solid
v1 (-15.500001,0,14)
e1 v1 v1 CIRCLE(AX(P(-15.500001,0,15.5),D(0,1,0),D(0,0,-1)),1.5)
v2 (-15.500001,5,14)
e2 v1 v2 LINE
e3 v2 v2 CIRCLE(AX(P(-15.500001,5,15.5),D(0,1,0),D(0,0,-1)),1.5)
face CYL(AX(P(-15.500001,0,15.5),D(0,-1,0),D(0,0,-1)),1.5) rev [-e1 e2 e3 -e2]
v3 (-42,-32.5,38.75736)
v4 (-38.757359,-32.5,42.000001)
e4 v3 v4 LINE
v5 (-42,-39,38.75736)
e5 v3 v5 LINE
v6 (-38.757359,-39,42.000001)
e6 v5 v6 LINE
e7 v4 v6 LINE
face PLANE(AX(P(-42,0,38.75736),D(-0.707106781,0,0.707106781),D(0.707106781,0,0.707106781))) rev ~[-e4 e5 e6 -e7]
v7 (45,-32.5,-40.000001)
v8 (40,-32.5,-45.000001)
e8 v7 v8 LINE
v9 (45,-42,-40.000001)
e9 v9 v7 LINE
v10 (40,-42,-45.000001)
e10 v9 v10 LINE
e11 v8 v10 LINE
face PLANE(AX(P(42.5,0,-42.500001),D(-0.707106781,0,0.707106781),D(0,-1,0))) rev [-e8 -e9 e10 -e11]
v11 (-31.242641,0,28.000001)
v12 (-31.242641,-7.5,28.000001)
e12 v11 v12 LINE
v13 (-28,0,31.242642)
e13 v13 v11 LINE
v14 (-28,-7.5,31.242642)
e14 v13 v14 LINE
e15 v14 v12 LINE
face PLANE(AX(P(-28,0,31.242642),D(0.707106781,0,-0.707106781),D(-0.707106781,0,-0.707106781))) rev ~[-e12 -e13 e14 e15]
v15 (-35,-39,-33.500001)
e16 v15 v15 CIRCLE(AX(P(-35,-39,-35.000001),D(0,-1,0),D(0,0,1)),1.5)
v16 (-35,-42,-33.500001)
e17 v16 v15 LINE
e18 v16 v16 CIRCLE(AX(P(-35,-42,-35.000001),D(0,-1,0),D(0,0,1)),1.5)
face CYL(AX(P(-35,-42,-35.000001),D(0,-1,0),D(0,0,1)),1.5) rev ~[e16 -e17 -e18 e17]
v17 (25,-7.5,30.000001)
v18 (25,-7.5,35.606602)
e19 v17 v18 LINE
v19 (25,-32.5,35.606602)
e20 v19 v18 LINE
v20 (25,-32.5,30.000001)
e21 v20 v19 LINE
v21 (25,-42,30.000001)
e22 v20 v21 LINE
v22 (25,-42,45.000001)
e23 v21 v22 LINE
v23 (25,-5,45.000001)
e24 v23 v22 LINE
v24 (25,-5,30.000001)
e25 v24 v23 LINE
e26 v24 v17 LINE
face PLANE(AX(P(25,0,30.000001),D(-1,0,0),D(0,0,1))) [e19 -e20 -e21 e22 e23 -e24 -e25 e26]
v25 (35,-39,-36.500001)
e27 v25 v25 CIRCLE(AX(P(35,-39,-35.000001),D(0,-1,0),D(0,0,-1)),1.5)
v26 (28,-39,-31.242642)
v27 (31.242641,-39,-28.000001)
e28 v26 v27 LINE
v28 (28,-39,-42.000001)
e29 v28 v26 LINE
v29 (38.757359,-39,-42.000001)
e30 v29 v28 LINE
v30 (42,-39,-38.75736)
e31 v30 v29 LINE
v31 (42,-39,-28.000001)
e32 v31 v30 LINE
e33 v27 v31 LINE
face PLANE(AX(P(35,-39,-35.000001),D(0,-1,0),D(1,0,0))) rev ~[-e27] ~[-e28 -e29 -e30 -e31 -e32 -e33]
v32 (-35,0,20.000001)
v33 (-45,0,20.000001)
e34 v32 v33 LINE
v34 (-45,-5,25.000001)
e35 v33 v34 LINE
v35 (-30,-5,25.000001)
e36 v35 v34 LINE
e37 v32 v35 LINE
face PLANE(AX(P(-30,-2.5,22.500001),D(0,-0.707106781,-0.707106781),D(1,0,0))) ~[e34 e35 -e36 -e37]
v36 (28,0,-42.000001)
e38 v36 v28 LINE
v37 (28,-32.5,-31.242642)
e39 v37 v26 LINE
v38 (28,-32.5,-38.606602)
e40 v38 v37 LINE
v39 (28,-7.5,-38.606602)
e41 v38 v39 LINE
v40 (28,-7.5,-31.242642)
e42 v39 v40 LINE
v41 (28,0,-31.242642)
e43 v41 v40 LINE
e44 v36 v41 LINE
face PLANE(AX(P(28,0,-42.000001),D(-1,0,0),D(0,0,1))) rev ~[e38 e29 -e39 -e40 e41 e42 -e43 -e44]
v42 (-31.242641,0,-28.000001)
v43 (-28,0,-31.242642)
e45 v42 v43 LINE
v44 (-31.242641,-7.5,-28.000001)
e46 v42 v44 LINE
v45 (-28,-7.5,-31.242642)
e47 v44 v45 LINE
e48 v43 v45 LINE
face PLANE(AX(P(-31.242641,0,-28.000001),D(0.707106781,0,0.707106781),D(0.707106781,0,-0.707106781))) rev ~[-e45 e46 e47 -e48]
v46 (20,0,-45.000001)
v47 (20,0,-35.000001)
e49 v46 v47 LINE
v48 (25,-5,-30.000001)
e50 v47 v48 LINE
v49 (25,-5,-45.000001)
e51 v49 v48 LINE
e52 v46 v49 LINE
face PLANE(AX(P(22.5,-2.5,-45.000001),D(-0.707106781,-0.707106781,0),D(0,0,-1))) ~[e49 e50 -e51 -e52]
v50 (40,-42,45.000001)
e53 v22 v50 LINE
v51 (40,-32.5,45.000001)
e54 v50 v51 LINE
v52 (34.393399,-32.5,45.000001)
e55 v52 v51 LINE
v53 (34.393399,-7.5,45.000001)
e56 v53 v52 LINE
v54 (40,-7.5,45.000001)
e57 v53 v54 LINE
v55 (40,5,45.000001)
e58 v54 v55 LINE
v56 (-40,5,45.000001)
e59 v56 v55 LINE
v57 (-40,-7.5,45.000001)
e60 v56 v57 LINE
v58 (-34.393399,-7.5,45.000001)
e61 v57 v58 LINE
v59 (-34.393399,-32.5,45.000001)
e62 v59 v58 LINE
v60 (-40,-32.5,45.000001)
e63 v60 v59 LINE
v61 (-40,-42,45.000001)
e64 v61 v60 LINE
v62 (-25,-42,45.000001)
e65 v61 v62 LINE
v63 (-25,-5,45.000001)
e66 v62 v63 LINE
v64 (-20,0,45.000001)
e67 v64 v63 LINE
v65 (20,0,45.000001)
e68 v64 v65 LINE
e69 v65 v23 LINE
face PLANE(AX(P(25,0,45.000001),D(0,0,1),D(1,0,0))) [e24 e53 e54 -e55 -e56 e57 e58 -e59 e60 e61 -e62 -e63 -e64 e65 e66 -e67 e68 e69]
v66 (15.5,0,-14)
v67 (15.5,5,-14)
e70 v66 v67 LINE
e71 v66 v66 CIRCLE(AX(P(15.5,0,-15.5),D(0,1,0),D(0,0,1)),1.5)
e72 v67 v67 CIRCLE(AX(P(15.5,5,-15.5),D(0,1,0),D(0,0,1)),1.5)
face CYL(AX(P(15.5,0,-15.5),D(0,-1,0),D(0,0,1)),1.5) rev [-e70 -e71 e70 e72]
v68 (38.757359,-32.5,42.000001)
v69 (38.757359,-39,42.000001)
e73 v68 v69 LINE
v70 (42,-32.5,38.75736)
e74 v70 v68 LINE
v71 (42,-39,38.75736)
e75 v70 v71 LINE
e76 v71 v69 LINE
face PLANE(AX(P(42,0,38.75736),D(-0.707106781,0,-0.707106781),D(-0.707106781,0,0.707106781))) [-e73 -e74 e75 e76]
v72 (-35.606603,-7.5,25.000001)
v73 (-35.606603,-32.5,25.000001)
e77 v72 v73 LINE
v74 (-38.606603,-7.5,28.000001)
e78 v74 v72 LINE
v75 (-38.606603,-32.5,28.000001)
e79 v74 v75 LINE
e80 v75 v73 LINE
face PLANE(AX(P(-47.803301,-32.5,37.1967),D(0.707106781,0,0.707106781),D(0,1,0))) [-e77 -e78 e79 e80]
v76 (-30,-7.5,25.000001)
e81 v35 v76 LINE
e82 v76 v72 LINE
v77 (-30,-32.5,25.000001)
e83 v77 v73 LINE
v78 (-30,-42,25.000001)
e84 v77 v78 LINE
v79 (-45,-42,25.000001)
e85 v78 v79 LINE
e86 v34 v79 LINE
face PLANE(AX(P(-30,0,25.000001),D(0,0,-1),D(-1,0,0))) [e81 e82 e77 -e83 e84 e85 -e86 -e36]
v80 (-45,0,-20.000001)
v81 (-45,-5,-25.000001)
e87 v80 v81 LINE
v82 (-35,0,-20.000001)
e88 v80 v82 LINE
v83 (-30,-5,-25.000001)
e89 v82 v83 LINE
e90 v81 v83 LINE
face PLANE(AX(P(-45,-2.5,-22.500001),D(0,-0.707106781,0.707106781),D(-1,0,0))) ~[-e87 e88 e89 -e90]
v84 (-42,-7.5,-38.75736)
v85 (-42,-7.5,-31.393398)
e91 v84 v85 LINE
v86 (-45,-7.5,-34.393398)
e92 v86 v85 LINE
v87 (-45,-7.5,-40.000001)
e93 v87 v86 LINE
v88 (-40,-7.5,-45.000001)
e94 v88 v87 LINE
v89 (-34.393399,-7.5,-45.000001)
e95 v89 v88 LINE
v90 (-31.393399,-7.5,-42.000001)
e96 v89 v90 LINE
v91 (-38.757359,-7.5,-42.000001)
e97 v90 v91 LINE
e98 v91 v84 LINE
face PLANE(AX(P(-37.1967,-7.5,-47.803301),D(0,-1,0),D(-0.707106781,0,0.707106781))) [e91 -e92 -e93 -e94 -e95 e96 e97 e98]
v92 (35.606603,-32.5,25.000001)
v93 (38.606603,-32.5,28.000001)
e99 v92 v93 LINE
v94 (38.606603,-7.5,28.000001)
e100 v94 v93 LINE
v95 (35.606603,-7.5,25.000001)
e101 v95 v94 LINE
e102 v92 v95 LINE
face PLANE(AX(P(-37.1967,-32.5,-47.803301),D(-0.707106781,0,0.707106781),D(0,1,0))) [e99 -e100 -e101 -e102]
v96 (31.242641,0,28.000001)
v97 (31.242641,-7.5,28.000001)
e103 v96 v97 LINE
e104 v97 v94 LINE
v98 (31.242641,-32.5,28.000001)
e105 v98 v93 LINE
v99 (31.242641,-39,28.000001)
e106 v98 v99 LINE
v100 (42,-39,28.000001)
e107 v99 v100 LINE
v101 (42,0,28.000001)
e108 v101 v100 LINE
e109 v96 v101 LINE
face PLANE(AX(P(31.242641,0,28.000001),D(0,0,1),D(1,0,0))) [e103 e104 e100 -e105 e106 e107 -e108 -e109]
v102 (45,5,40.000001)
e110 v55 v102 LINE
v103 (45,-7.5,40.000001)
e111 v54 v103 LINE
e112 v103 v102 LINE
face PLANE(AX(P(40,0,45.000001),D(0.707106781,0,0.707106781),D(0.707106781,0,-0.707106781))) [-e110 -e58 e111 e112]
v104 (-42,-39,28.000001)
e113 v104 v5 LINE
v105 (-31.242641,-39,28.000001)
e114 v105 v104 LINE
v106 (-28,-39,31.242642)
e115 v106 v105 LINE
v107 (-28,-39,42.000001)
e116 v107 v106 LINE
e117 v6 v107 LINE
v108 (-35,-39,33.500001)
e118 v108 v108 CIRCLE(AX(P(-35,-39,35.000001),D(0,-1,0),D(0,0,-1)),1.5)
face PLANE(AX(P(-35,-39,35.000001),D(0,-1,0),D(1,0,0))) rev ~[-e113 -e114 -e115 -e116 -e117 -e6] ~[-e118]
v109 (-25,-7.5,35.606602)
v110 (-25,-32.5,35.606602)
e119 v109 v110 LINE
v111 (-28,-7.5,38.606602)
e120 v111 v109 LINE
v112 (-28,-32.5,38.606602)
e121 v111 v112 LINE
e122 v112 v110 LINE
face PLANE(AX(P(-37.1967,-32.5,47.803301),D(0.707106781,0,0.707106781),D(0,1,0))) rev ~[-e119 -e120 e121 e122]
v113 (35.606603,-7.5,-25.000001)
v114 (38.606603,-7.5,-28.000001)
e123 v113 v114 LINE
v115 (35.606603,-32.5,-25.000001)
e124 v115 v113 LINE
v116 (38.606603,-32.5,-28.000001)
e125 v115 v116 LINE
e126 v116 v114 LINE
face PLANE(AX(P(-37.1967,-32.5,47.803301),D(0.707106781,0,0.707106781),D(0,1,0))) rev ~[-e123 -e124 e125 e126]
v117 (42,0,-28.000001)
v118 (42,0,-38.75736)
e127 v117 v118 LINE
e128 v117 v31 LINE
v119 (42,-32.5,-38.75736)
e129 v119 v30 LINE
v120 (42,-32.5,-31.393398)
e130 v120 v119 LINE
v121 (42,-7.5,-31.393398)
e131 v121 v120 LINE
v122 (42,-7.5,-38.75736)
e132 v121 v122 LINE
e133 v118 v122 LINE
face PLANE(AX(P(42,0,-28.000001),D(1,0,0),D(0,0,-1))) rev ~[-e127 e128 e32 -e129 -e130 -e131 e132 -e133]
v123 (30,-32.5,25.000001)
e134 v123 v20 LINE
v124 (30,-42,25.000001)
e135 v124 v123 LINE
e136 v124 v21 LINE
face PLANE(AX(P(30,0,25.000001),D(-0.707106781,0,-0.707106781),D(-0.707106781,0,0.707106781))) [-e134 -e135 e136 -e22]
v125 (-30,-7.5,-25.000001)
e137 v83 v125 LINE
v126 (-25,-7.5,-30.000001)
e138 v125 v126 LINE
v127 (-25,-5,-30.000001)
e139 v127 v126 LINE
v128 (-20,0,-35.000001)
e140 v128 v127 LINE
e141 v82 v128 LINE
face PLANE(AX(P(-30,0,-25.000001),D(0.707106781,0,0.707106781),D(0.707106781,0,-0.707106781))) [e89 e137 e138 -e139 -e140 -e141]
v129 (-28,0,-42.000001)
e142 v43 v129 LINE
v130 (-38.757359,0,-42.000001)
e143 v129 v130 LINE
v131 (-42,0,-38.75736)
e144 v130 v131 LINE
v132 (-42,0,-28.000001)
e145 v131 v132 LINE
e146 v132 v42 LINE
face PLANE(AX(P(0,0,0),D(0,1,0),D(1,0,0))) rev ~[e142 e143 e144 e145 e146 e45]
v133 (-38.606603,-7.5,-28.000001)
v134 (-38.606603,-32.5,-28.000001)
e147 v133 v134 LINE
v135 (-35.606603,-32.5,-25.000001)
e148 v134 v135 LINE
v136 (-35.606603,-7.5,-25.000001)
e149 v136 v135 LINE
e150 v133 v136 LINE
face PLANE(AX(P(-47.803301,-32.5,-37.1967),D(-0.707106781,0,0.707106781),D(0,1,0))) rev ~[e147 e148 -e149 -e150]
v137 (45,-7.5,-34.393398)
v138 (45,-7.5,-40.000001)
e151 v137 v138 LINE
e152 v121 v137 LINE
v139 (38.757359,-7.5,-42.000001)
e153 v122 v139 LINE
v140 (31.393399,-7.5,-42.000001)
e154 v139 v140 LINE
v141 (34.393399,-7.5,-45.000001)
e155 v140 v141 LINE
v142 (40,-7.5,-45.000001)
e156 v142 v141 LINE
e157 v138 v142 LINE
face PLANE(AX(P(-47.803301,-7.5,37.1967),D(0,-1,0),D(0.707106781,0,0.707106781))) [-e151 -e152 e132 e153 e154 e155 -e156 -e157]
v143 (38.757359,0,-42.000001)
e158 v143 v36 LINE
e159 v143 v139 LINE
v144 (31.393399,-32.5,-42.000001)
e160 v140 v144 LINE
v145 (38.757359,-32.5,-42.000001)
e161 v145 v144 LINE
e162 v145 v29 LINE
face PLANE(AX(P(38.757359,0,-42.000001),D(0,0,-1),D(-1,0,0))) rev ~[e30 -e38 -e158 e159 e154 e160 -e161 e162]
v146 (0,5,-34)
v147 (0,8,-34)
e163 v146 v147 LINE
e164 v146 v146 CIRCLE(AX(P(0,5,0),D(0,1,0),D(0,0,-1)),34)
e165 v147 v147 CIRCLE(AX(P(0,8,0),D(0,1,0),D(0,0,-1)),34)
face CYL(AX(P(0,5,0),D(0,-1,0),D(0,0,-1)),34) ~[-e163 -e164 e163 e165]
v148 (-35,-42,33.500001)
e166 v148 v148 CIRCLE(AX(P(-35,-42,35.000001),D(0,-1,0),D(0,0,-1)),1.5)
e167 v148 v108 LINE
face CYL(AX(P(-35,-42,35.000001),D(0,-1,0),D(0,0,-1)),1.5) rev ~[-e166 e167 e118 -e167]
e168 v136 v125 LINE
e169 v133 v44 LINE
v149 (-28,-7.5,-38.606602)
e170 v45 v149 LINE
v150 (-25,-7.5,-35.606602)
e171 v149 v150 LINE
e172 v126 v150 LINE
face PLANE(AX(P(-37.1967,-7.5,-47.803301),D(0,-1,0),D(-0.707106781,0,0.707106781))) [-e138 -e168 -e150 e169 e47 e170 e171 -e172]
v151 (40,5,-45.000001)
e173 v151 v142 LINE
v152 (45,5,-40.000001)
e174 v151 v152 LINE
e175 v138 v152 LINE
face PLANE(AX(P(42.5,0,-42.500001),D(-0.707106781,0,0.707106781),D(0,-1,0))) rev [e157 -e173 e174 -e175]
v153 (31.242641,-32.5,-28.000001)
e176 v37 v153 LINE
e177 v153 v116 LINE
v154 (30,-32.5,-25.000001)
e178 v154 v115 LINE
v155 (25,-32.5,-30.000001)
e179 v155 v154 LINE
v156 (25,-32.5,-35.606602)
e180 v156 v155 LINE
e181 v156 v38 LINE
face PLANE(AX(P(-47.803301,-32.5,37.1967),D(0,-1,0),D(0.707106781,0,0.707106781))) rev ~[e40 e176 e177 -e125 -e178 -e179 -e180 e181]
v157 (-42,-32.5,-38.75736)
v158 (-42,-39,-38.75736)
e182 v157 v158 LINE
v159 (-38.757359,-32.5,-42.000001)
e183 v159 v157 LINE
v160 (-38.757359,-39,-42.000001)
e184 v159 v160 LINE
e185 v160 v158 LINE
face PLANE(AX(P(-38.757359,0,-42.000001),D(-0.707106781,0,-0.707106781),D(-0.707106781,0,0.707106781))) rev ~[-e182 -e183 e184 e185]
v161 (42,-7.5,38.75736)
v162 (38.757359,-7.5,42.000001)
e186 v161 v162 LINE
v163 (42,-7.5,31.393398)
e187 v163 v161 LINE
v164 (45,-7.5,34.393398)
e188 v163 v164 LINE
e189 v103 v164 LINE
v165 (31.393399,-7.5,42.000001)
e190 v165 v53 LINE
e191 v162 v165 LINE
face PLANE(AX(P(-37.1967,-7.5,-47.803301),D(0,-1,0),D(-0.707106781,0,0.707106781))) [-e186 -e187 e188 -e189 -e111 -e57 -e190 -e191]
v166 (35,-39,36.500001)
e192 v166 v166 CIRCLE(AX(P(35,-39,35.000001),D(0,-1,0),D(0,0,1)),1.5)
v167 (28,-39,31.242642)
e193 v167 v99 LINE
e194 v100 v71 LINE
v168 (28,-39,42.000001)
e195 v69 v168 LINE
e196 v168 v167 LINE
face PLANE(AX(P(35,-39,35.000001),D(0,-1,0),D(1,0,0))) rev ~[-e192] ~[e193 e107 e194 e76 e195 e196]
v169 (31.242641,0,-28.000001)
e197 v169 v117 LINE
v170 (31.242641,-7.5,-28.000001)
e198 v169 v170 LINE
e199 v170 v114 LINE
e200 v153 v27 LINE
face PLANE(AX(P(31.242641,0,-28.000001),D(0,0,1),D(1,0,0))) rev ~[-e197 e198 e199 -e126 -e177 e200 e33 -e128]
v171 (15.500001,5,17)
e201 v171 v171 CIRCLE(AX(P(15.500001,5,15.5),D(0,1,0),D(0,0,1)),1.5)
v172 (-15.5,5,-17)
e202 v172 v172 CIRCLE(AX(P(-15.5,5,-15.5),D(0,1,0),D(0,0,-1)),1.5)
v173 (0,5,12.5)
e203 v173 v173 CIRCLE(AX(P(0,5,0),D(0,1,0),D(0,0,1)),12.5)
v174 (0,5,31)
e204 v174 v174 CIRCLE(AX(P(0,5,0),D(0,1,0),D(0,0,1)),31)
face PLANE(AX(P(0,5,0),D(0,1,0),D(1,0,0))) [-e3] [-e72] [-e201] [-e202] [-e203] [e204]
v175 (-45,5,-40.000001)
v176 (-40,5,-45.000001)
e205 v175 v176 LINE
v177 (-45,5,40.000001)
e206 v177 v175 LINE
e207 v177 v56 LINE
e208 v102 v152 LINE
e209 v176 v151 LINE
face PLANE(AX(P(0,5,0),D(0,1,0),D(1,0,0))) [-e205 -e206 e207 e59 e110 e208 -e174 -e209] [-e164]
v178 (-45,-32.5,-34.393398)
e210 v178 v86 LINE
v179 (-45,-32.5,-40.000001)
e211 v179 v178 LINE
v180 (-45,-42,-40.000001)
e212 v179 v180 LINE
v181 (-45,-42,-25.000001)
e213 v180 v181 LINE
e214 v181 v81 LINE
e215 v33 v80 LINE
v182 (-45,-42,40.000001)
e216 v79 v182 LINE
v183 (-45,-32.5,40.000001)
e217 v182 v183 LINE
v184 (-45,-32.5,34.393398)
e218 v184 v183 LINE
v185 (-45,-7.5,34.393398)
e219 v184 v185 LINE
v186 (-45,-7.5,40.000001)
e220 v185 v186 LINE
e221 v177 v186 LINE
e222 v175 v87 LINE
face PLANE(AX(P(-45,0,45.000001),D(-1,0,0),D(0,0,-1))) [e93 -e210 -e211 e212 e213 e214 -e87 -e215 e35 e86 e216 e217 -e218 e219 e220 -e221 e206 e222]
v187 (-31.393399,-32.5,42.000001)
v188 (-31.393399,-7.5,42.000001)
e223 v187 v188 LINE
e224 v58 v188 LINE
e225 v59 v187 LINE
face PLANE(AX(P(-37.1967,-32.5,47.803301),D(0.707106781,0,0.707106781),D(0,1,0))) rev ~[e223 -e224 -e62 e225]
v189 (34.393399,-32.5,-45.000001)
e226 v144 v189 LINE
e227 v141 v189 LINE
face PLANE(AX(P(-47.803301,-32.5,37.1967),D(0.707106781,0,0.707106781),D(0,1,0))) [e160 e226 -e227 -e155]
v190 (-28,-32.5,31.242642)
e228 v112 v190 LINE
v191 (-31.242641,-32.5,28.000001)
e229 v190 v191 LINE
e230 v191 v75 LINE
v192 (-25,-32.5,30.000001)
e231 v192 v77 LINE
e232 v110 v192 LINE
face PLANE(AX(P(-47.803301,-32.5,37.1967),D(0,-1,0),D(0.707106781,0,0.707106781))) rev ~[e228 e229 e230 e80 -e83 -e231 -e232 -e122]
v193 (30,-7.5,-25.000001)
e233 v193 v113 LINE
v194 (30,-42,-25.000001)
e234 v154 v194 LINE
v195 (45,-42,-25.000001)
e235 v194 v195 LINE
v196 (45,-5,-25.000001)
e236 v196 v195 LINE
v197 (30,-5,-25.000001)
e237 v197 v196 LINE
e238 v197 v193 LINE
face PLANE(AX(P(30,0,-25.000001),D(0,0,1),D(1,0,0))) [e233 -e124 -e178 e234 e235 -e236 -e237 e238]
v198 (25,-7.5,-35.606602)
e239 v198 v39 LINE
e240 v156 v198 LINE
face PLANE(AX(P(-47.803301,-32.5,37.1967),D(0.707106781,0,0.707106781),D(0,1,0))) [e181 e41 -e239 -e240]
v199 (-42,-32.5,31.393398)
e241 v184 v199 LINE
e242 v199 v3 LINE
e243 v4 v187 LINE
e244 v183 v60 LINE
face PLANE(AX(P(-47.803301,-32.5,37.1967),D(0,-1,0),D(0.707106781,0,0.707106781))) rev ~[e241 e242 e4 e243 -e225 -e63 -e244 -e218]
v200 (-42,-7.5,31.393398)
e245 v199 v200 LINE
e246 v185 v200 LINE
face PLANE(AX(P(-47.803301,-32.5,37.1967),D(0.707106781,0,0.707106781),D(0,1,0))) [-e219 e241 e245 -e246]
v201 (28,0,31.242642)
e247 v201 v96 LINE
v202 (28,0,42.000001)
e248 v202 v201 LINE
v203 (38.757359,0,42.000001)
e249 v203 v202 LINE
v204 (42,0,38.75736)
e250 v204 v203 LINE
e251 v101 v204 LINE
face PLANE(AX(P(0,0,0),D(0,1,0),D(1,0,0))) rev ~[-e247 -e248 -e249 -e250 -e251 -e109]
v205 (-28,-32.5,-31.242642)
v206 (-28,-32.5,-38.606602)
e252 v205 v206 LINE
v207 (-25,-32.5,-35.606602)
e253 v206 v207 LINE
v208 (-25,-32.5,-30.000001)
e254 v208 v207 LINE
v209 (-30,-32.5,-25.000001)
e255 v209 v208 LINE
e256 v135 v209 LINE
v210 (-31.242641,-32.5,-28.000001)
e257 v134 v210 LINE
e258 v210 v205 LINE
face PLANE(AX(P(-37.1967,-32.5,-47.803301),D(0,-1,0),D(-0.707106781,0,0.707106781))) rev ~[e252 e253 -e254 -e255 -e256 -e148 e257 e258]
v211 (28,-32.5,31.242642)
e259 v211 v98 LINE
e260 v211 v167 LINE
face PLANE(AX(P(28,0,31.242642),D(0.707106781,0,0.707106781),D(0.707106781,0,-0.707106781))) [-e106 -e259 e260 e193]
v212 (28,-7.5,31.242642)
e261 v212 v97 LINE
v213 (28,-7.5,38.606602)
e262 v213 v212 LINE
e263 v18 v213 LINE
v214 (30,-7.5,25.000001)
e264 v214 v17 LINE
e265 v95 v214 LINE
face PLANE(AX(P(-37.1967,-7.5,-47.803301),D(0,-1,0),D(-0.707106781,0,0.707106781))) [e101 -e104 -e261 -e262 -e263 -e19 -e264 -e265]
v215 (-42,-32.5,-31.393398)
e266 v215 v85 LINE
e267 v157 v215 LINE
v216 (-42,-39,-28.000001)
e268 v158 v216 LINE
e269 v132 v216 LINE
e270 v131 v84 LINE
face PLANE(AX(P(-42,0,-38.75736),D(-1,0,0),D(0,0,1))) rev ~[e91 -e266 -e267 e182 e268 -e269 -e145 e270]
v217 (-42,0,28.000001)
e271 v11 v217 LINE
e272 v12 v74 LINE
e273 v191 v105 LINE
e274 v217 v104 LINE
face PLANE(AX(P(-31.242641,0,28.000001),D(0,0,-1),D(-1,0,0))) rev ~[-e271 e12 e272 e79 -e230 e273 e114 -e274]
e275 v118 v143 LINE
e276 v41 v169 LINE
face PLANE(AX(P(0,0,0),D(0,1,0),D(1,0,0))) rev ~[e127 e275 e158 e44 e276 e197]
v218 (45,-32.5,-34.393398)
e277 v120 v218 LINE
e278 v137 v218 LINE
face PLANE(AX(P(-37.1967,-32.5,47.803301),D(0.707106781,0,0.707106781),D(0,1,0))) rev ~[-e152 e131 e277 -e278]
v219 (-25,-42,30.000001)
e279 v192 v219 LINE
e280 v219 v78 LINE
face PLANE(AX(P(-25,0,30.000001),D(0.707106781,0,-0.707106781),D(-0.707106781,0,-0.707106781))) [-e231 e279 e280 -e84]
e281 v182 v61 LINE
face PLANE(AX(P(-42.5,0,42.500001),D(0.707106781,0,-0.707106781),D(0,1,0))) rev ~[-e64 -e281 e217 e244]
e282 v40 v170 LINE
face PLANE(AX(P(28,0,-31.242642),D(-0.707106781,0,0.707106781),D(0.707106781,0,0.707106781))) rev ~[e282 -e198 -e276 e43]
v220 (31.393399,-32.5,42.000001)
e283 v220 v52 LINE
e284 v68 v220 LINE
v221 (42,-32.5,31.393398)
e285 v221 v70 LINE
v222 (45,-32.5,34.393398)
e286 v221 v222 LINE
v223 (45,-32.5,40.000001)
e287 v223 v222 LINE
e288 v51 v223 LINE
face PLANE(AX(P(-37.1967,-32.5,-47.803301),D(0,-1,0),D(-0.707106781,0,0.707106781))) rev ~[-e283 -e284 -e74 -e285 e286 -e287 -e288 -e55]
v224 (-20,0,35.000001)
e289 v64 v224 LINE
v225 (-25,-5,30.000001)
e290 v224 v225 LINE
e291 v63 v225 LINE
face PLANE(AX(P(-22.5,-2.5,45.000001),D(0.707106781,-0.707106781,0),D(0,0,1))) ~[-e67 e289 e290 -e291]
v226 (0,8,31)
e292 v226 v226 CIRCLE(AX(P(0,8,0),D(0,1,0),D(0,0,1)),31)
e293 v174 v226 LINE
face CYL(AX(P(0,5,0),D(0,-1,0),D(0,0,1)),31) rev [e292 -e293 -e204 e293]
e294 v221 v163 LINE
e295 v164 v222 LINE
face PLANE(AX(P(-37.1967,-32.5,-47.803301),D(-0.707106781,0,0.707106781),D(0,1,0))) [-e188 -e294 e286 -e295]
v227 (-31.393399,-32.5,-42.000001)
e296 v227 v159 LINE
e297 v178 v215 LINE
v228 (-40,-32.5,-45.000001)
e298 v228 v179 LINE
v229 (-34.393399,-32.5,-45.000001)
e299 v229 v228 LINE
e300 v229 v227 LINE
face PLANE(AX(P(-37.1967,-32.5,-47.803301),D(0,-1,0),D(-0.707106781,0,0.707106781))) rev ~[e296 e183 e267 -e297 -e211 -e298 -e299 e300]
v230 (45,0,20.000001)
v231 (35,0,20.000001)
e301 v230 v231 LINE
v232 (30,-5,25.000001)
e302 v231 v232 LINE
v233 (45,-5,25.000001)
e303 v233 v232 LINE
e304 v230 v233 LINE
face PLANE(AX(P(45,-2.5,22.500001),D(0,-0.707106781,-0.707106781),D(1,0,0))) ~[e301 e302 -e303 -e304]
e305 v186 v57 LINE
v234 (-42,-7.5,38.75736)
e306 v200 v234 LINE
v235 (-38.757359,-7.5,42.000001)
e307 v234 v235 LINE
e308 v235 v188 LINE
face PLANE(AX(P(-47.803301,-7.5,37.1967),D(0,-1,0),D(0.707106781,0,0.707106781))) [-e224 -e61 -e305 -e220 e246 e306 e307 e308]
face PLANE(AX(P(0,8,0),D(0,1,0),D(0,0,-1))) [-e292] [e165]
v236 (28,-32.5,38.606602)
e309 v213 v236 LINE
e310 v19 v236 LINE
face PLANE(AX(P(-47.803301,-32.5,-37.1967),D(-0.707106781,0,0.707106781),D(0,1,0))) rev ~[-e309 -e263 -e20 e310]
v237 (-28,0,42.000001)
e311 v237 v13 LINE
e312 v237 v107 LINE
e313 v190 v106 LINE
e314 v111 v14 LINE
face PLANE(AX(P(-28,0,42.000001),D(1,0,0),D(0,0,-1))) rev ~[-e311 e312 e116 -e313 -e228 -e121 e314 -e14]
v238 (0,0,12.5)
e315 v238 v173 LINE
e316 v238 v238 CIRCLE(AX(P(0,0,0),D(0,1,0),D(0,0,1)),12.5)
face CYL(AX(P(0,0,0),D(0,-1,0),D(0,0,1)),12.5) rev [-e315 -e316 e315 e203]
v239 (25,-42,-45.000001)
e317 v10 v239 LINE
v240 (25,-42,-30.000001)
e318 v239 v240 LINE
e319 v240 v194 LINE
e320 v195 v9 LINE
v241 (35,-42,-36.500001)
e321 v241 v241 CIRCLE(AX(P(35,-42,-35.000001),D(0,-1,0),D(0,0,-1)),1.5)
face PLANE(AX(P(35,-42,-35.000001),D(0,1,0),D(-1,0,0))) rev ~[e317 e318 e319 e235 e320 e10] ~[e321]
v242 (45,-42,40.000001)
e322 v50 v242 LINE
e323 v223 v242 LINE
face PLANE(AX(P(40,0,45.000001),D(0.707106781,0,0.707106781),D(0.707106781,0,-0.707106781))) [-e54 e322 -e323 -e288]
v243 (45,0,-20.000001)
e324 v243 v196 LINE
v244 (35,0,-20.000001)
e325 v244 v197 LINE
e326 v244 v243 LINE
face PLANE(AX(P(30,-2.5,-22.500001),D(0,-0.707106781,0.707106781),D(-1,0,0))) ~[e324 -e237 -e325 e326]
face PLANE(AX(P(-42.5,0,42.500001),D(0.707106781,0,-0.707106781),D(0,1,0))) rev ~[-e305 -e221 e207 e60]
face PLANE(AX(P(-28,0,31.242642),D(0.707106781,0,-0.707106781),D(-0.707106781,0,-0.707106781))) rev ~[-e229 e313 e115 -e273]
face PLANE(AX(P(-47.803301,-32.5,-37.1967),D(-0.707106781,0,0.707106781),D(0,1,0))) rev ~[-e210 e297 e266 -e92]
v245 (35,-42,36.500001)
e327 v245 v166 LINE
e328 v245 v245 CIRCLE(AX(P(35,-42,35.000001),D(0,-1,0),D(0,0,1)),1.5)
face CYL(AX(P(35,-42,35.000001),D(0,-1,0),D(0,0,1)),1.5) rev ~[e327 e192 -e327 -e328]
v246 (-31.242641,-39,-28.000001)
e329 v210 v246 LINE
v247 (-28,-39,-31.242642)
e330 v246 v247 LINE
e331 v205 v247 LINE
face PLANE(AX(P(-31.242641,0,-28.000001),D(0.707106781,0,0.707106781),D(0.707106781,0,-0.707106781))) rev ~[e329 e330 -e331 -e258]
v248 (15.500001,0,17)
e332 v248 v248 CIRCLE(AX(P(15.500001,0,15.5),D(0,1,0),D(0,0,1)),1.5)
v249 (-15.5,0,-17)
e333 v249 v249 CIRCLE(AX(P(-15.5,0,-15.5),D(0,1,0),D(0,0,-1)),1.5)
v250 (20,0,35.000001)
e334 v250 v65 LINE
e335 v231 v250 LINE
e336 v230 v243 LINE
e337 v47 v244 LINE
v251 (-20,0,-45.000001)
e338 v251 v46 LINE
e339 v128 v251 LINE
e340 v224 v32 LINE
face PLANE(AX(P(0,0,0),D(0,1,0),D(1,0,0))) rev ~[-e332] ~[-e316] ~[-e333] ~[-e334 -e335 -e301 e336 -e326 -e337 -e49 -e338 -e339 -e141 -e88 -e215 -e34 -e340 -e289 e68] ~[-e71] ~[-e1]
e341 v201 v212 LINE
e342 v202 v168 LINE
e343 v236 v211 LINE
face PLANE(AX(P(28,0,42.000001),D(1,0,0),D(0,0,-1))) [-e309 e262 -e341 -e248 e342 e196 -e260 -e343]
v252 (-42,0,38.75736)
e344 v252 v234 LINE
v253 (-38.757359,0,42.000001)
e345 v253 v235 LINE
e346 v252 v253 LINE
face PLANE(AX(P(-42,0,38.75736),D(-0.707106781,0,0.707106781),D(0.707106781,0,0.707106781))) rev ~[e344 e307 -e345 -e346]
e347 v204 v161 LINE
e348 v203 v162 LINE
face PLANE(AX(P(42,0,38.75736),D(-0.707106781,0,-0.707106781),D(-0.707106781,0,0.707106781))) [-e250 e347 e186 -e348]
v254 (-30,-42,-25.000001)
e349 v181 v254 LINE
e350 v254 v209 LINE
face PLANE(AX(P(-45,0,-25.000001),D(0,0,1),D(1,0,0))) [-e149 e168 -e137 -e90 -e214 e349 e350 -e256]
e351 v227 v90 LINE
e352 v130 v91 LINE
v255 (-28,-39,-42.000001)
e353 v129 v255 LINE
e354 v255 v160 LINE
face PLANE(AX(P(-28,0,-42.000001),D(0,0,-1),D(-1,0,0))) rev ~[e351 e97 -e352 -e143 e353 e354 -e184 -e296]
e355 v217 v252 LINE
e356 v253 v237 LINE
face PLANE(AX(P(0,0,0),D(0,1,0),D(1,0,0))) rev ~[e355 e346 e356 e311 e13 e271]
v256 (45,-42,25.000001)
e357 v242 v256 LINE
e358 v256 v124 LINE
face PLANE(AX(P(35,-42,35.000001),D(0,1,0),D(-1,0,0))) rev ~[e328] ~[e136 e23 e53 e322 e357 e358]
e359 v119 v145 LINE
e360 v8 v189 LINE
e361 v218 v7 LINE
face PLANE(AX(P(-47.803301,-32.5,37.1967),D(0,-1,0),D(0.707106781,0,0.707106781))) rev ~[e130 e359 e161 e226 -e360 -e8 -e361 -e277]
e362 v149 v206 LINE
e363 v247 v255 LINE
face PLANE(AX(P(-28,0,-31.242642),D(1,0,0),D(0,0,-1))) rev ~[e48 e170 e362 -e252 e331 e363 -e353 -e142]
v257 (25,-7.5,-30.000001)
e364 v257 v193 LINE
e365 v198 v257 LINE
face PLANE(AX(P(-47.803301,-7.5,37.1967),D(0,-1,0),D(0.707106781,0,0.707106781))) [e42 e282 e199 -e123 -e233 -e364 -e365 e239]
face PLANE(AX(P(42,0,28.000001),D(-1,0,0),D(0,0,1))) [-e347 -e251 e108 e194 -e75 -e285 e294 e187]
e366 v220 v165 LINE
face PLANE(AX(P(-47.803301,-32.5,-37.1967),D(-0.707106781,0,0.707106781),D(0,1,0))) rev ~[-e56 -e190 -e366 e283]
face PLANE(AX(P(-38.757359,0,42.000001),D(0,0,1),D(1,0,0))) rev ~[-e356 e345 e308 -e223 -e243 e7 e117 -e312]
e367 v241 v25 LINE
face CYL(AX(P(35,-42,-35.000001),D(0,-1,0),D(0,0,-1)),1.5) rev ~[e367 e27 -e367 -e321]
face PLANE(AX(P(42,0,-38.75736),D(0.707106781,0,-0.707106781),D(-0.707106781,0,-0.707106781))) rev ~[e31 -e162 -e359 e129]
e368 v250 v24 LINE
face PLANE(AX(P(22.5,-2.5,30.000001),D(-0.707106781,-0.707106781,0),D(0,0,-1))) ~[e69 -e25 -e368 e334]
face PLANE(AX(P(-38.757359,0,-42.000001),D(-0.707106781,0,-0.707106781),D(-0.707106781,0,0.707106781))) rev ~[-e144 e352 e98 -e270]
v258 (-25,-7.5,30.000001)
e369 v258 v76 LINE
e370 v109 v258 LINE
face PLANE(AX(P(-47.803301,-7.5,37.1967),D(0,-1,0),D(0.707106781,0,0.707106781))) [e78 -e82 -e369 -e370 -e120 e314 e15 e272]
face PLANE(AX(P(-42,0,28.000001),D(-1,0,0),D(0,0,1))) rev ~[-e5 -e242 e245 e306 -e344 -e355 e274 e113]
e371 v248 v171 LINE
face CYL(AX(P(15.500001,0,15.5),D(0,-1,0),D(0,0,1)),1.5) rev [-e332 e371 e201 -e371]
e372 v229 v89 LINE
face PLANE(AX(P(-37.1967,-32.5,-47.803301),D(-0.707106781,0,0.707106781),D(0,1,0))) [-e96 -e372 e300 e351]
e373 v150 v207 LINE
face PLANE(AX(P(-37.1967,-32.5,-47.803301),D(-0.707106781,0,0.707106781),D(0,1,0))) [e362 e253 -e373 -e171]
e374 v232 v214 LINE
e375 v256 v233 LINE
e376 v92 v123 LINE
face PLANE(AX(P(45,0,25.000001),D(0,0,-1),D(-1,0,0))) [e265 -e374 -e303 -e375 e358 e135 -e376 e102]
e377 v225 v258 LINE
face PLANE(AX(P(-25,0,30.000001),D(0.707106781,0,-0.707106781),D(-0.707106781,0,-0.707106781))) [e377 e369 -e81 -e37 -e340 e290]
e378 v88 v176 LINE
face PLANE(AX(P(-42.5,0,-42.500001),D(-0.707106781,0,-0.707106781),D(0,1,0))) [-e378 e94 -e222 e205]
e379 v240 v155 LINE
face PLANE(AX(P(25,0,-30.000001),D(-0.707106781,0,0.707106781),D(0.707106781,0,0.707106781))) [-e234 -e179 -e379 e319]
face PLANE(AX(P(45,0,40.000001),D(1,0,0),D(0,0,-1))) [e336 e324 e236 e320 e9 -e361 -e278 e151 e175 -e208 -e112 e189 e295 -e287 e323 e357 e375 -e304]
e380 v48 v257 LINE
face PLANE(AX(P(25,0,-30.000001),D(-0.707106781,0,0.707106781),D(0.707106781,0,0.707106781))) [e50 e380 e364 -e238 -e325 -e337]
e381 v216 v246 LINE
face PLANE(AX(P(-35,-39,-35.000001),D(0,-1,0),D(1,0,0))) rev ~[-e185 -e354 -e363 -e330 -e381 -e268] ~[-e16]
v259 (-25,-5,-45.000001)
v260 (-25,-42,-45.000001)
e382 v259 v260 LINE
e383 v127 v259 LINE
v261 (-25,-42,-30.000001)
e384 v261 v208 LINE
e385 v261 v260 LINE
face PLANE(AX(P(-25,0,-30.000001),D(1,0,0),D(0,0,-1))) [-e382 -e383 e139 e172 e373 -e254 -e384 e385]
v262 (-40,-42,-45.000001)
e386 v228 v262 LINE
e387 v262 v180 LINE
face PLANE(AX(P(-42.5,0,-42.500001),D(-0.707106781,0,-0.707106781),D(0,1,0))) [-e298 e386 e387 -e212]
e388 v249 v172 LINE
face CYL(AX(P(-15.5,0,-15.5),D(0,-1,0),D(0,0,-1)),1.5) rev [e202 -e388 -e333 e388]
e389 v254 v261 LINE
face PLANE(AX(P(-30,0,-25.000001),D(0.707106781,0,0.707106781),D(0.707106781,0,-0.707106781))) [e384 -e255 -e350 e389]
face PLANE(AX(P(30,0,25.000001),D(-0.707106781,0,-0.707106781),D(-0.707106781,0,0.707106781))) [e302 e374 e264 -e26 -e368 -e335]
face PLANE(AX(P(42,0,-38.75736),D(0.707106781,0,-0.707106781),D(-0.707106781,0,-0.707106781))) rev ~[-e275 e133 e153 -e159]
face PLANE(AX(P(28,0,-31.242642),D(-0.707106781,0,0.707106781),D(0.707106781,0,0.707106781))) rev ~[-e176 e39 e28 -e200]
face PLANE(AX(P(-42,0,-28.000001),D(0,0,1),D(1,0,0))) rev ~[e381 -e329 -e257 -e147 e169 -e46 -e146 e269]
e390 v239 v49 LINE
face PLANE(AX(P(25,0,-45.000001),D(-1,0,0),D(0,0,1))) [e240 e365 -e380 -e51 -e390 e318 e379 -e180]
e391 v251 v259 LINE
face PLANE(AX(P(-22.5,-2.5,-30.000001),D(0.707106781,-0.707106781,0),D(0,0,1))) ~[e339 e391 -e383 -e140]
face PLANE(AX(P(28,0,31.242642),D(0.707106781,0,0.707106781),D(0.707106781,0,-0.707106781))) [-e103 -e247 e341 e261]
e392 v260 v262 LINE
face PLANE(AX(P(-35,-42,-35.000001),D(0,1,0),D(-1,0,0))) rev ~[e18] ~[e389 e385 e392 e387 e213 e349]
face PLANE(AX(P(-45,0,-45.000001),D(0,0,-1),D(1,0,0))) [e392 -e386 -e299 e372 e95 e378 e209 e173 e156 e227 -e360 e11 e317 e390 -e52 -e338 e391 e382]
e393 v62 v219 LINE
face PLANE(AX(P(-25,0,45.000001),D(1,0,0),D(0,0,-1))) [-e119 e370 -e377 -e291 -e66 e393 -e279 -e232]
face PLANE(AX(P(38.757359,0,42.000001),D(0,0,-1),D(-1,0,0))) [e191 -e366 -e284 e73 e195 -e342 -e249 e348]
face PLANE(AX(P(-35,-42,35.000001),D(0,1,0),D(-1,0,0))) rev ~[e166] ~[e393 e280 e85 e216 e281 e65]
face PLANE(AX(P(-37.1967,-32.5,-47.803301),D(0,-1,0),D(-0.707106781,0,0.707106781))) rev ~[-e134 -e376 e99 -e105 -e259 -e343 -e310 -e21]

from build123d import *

# Parameters (mm, degrees)
SKETCH_1_W               = 90
SKETCH_1_H               = 90.00000171
SKETCH_1_R               = 12.5
SKETCH_1_R_2             = 1.5
EXTRUDE_1_DEPTH          = 5
CHAMFER_1_SIZE           = 5
SKETCH_2_R               = 34
SKETCH_2_R_2             = 31
EXTRUDE_2_DEPTH          = 3
EXTRUDE_3_DEPTH          = 42
CHAMFER_2_SIZE           = 5
SKETCH_4_W               = 15
SKETCH_4_H               = 25
CUT_EXTRUDE_1_DEPTH      = 157
PATTERN_CIRCULAR_1_COUNT = 2
PATTERN_CIRCULAR_1_ANGLE = 90
SKETCH_5_R               = 1.5
EXTRUDE_4_DEPTH          = 3


with BuildPart() as part:
    # 草图1 → 凸台-拉伸1 (new body)
    with BuildSketch(Plane(origin=(0, 0, 0), x_dir=(1, 0, 0), z_dir=(0, 1, 0))):
        Rectangle(SKETCH_1_W, SKETCH_1_H)
        with Locations(Location((0, 0, 0), (0, 0, 270))):
            Circle(SKETCH_1_R, mode=Mode.SUBTRACT)
        with Locations(Location((15.5, 15.500000294, 0), (0, 0, 270))):
            Circle(SKETCH_1_R_2, mode=Mode.SUBTRACT)
        with Locations(Location((-15.500000589, -15.499999706, 0), (0, 0, 90))):
            Circle(SKETCH_1_R_2, mode=Mode.SUBTRACT)
        with Locations(Location((15.500000589, -15.499999706, 0), (0, 0, 270))):
            Circle(SKETCH_1_R_2, mode=Mode.SUBTRACT)
        with Locations(Location((-15.5, 15.500000294, 0), (0, 0, 90))):
            Circle(SKETCH_1_R_2, mode=Mode.SUBTRACT)
    extrude(amount=EXTRUDE_1_DEPTH)

    # 倒角1
    chamfer_1_edges = [part.edges().sort_by_distance(p)[0] for p in [
        (45, 2.5, 45.000000855),
        (-45, 2.5, 45.000000855),
        (-45, 2.5, -45.000000855),
        (45, 2.5, -45.000000855),
    ]]
    chamfer(chamfer_1_edges, length=CHAMFER_1_SIZE)

    # 草图2 → 凸台-拉伸2 (add)
    with BuildSketch(Plane(origin=(0, 5, 0), x_dir=(1, 0, 0), z_dir=(0, 1, 0))):
        with Locations(Location((0, 0, 0), (0, 0, 90))):
            Circle(SKETCH_2_R)
        with Locations(Location((0, 0, 0), (0, 0, 270))):
            Circle(SKETCH_2_R_2, mode=Mode.SUBTRACT)
    extrude(amount=EXTRUDE_2_DEPTH)

    # 草图3 → 凸台-拉伸3 (add)
    # profile 1 of 4: a face of its own
    with BuildSketch(Plane.XZ):
        Polygon((25, 45.000000855), (40, 45.000000855), (45, 40.000000855), (45, 25.000000855), (30, 25.000000855), (25, 30.000000855), align=None)
        Polygon((28, 31.242641542), (31.242640687, 28.000000855), (42, 28.000000855), (42, 38.757360167), (38.757359313, 42.000000855), (28, 42.000000855), align=None, mode=Mode.SUBTRACT)
    # profile 2 of 4: a face of its own
    with BuildSketch(Plane.XZ):
        Polygon((25, -45.000000855), (25, -30.000000855), (30, -25.000000855), (45, -25.000000855), (45, -40.000000855), (40, -45.000000855), align=None)
        Polygon((28, -42.000000855), (28, -31.242641542), (31.242640687, -28.000000855), (42, -28.000000855), (42, -38.757360167), (38.757359313, -42.000000855), align=None, mode=Mode.SUBTRACT)
    # profile 3 of 4: a face of its own
    with BuildSketch(Plane.XZ):
        Polygon((-25, -45.000000855), (-40, -45.000000855), (-45, -40.000000855), (-45, -25.000000855), (-30, -25.000000855), (-25, -30.000000855), align=None)
        Polygon((-28, -42.000000855), (-38.757359313, -42.000000855), (-42, -38.757360167), (-42, -28.000000855), (-31.242640687, -28.000000855), (-28, -31.242641542), align=None, mode=Mode.SUBTRACT)
    # profile 4 of 4: a face of its own
    with BuildSketch(Plane.XZ):
        Polygon((-25, 45.000000855), (-25, 30.000000855), (-30, 25.000000855), (-45, 25.000000855), (-45, 40.000000855), (-40, 45.000000855), align=None)
        Polygon((-28, 42.000000855), (-28, 31.242641542), (-31.242640687, 28.000000855), (-42, 28.000000855), (-42, 38.757360167), (-38.757359313, 42.000000855), align=None, mode=Mode.SUBTRACT)
    extrude(amount=EXTRUDE_3_DEPTH)

    # 倒角2
    chamfer_2_edges = [part.edges().sort_by_distance(p)[0] for p in [
        (37.5, 0, -25.000000855),
        (25, 0, -37.500000855),
        (-25, 0, -37.500000855),
        (-37.5, 0, -25.000000855),
        (-37.5, 0, 25.000000855),
        (-25, 0, 37.500000855),
        (25, 0, 37.500000855),
        (37.5, 0, 25.000000855),
    ]]
    chamfer(chamfer_2_edges, length=CHAMFER_2_SIZE)

    # 草图4 → 切除-拉伸1 (cut)
    with BuildSketch(Plane(origin=(-42.500000427, 0, 42.500000427), x_dir=(0.7071067811865456, 0, 0.7071067811865495), z_dir=(-0.7071067811865495, 0, 0.7071067811865456))):
        with Locations((0, -20)):
            Rectangle(SKETCH_4_W, SKETCH_4_H)
    cut_extrude_1 = extrude(amount=-CUT_EXTRUDE_1_DEPTH, mode=Mode.SUBTRACT)

    # 阵列(圆周)1: 切除-拉伸1 ×2 about axis
    pattern_circular_1_axis = Axis((0, 8, 0), (0, -1, 0))
    for i in range(1, PATTERN_CIRCULAR_1_COUNT):
        add(cut_extrude_1.rotate(pattern_circular_1_axis, i * PATTERN_CIRCULAR_1_ANGLE / (PATTERN_CIRCULAR_1_COUNT - 1)), mode=Mode.SUBTRACT)

    # 草图5 → 凸台-拉伸4 (add)
    # profile 1 of 4: a face of its own
    with BuildSketch(Plane.XZ.offset(42)):
        Polygon((-25, -45.000000855), (-25, -30.000000855), (-30, -25.000000855), (-45, -25.000000855), (-45, -40.000000855), (-40, -45.000000855), align=None)
        with Locations(Location((-35, -35.000000855, 0), (0, 0, 90))):
            Circle(SKETCH_5_R, mode=Mode.SUBTRACT)
    # profile 2 of 4: a face of its own
    with BuildSketch(Plane.XZ.offset(42)):
        Polygon((40, -45.000000855), (45, -40.000000855), (45, -25.000000855), (30, -25.000000855), (25, -30.000000855), (25, -45.000000855), align=None)
        with Locations(Location((35, -35.000000855, 0), (0, 0, 270))):
            Circle(SKETCH_5_R, mode=Mode.SUBTRACT)
    # profile 3 of 4: a face of its own
    with BuildSketch(Plane.XZ.offset(42)):
        Polygon((25, 45.000000855), (25, 30.000000855), (30, 25.000000855), (45, 25.000000855), (45, 40.000000855), (40, 45.000000855), align=None)
        with Locations(Location((35, 35.000000855, 0), (0, 0, 90))):
            Circle(SKETCH_5_R, mode=Mode.SUBTRACT)
    # profile 4 of 4: a face of its own
    with BuildSketch(Plane.XZ.offset(42)):
        Polygon((-40, 45.000000855), (-45, 40.000000855), (-45, 25.000000855), (-30, 25.000000855), (-25, 30.000000855), (-25, 45.000000855), align=None)
        with Locations(Location((-35, 35.000000855, 0), (0, 0, 270))):
            Circle(SKETCH_5_R, mode=Mode.SUBTRACT)
    extrude(amount=-EXTRUDE_4_DEPTH)


solid = part.part
